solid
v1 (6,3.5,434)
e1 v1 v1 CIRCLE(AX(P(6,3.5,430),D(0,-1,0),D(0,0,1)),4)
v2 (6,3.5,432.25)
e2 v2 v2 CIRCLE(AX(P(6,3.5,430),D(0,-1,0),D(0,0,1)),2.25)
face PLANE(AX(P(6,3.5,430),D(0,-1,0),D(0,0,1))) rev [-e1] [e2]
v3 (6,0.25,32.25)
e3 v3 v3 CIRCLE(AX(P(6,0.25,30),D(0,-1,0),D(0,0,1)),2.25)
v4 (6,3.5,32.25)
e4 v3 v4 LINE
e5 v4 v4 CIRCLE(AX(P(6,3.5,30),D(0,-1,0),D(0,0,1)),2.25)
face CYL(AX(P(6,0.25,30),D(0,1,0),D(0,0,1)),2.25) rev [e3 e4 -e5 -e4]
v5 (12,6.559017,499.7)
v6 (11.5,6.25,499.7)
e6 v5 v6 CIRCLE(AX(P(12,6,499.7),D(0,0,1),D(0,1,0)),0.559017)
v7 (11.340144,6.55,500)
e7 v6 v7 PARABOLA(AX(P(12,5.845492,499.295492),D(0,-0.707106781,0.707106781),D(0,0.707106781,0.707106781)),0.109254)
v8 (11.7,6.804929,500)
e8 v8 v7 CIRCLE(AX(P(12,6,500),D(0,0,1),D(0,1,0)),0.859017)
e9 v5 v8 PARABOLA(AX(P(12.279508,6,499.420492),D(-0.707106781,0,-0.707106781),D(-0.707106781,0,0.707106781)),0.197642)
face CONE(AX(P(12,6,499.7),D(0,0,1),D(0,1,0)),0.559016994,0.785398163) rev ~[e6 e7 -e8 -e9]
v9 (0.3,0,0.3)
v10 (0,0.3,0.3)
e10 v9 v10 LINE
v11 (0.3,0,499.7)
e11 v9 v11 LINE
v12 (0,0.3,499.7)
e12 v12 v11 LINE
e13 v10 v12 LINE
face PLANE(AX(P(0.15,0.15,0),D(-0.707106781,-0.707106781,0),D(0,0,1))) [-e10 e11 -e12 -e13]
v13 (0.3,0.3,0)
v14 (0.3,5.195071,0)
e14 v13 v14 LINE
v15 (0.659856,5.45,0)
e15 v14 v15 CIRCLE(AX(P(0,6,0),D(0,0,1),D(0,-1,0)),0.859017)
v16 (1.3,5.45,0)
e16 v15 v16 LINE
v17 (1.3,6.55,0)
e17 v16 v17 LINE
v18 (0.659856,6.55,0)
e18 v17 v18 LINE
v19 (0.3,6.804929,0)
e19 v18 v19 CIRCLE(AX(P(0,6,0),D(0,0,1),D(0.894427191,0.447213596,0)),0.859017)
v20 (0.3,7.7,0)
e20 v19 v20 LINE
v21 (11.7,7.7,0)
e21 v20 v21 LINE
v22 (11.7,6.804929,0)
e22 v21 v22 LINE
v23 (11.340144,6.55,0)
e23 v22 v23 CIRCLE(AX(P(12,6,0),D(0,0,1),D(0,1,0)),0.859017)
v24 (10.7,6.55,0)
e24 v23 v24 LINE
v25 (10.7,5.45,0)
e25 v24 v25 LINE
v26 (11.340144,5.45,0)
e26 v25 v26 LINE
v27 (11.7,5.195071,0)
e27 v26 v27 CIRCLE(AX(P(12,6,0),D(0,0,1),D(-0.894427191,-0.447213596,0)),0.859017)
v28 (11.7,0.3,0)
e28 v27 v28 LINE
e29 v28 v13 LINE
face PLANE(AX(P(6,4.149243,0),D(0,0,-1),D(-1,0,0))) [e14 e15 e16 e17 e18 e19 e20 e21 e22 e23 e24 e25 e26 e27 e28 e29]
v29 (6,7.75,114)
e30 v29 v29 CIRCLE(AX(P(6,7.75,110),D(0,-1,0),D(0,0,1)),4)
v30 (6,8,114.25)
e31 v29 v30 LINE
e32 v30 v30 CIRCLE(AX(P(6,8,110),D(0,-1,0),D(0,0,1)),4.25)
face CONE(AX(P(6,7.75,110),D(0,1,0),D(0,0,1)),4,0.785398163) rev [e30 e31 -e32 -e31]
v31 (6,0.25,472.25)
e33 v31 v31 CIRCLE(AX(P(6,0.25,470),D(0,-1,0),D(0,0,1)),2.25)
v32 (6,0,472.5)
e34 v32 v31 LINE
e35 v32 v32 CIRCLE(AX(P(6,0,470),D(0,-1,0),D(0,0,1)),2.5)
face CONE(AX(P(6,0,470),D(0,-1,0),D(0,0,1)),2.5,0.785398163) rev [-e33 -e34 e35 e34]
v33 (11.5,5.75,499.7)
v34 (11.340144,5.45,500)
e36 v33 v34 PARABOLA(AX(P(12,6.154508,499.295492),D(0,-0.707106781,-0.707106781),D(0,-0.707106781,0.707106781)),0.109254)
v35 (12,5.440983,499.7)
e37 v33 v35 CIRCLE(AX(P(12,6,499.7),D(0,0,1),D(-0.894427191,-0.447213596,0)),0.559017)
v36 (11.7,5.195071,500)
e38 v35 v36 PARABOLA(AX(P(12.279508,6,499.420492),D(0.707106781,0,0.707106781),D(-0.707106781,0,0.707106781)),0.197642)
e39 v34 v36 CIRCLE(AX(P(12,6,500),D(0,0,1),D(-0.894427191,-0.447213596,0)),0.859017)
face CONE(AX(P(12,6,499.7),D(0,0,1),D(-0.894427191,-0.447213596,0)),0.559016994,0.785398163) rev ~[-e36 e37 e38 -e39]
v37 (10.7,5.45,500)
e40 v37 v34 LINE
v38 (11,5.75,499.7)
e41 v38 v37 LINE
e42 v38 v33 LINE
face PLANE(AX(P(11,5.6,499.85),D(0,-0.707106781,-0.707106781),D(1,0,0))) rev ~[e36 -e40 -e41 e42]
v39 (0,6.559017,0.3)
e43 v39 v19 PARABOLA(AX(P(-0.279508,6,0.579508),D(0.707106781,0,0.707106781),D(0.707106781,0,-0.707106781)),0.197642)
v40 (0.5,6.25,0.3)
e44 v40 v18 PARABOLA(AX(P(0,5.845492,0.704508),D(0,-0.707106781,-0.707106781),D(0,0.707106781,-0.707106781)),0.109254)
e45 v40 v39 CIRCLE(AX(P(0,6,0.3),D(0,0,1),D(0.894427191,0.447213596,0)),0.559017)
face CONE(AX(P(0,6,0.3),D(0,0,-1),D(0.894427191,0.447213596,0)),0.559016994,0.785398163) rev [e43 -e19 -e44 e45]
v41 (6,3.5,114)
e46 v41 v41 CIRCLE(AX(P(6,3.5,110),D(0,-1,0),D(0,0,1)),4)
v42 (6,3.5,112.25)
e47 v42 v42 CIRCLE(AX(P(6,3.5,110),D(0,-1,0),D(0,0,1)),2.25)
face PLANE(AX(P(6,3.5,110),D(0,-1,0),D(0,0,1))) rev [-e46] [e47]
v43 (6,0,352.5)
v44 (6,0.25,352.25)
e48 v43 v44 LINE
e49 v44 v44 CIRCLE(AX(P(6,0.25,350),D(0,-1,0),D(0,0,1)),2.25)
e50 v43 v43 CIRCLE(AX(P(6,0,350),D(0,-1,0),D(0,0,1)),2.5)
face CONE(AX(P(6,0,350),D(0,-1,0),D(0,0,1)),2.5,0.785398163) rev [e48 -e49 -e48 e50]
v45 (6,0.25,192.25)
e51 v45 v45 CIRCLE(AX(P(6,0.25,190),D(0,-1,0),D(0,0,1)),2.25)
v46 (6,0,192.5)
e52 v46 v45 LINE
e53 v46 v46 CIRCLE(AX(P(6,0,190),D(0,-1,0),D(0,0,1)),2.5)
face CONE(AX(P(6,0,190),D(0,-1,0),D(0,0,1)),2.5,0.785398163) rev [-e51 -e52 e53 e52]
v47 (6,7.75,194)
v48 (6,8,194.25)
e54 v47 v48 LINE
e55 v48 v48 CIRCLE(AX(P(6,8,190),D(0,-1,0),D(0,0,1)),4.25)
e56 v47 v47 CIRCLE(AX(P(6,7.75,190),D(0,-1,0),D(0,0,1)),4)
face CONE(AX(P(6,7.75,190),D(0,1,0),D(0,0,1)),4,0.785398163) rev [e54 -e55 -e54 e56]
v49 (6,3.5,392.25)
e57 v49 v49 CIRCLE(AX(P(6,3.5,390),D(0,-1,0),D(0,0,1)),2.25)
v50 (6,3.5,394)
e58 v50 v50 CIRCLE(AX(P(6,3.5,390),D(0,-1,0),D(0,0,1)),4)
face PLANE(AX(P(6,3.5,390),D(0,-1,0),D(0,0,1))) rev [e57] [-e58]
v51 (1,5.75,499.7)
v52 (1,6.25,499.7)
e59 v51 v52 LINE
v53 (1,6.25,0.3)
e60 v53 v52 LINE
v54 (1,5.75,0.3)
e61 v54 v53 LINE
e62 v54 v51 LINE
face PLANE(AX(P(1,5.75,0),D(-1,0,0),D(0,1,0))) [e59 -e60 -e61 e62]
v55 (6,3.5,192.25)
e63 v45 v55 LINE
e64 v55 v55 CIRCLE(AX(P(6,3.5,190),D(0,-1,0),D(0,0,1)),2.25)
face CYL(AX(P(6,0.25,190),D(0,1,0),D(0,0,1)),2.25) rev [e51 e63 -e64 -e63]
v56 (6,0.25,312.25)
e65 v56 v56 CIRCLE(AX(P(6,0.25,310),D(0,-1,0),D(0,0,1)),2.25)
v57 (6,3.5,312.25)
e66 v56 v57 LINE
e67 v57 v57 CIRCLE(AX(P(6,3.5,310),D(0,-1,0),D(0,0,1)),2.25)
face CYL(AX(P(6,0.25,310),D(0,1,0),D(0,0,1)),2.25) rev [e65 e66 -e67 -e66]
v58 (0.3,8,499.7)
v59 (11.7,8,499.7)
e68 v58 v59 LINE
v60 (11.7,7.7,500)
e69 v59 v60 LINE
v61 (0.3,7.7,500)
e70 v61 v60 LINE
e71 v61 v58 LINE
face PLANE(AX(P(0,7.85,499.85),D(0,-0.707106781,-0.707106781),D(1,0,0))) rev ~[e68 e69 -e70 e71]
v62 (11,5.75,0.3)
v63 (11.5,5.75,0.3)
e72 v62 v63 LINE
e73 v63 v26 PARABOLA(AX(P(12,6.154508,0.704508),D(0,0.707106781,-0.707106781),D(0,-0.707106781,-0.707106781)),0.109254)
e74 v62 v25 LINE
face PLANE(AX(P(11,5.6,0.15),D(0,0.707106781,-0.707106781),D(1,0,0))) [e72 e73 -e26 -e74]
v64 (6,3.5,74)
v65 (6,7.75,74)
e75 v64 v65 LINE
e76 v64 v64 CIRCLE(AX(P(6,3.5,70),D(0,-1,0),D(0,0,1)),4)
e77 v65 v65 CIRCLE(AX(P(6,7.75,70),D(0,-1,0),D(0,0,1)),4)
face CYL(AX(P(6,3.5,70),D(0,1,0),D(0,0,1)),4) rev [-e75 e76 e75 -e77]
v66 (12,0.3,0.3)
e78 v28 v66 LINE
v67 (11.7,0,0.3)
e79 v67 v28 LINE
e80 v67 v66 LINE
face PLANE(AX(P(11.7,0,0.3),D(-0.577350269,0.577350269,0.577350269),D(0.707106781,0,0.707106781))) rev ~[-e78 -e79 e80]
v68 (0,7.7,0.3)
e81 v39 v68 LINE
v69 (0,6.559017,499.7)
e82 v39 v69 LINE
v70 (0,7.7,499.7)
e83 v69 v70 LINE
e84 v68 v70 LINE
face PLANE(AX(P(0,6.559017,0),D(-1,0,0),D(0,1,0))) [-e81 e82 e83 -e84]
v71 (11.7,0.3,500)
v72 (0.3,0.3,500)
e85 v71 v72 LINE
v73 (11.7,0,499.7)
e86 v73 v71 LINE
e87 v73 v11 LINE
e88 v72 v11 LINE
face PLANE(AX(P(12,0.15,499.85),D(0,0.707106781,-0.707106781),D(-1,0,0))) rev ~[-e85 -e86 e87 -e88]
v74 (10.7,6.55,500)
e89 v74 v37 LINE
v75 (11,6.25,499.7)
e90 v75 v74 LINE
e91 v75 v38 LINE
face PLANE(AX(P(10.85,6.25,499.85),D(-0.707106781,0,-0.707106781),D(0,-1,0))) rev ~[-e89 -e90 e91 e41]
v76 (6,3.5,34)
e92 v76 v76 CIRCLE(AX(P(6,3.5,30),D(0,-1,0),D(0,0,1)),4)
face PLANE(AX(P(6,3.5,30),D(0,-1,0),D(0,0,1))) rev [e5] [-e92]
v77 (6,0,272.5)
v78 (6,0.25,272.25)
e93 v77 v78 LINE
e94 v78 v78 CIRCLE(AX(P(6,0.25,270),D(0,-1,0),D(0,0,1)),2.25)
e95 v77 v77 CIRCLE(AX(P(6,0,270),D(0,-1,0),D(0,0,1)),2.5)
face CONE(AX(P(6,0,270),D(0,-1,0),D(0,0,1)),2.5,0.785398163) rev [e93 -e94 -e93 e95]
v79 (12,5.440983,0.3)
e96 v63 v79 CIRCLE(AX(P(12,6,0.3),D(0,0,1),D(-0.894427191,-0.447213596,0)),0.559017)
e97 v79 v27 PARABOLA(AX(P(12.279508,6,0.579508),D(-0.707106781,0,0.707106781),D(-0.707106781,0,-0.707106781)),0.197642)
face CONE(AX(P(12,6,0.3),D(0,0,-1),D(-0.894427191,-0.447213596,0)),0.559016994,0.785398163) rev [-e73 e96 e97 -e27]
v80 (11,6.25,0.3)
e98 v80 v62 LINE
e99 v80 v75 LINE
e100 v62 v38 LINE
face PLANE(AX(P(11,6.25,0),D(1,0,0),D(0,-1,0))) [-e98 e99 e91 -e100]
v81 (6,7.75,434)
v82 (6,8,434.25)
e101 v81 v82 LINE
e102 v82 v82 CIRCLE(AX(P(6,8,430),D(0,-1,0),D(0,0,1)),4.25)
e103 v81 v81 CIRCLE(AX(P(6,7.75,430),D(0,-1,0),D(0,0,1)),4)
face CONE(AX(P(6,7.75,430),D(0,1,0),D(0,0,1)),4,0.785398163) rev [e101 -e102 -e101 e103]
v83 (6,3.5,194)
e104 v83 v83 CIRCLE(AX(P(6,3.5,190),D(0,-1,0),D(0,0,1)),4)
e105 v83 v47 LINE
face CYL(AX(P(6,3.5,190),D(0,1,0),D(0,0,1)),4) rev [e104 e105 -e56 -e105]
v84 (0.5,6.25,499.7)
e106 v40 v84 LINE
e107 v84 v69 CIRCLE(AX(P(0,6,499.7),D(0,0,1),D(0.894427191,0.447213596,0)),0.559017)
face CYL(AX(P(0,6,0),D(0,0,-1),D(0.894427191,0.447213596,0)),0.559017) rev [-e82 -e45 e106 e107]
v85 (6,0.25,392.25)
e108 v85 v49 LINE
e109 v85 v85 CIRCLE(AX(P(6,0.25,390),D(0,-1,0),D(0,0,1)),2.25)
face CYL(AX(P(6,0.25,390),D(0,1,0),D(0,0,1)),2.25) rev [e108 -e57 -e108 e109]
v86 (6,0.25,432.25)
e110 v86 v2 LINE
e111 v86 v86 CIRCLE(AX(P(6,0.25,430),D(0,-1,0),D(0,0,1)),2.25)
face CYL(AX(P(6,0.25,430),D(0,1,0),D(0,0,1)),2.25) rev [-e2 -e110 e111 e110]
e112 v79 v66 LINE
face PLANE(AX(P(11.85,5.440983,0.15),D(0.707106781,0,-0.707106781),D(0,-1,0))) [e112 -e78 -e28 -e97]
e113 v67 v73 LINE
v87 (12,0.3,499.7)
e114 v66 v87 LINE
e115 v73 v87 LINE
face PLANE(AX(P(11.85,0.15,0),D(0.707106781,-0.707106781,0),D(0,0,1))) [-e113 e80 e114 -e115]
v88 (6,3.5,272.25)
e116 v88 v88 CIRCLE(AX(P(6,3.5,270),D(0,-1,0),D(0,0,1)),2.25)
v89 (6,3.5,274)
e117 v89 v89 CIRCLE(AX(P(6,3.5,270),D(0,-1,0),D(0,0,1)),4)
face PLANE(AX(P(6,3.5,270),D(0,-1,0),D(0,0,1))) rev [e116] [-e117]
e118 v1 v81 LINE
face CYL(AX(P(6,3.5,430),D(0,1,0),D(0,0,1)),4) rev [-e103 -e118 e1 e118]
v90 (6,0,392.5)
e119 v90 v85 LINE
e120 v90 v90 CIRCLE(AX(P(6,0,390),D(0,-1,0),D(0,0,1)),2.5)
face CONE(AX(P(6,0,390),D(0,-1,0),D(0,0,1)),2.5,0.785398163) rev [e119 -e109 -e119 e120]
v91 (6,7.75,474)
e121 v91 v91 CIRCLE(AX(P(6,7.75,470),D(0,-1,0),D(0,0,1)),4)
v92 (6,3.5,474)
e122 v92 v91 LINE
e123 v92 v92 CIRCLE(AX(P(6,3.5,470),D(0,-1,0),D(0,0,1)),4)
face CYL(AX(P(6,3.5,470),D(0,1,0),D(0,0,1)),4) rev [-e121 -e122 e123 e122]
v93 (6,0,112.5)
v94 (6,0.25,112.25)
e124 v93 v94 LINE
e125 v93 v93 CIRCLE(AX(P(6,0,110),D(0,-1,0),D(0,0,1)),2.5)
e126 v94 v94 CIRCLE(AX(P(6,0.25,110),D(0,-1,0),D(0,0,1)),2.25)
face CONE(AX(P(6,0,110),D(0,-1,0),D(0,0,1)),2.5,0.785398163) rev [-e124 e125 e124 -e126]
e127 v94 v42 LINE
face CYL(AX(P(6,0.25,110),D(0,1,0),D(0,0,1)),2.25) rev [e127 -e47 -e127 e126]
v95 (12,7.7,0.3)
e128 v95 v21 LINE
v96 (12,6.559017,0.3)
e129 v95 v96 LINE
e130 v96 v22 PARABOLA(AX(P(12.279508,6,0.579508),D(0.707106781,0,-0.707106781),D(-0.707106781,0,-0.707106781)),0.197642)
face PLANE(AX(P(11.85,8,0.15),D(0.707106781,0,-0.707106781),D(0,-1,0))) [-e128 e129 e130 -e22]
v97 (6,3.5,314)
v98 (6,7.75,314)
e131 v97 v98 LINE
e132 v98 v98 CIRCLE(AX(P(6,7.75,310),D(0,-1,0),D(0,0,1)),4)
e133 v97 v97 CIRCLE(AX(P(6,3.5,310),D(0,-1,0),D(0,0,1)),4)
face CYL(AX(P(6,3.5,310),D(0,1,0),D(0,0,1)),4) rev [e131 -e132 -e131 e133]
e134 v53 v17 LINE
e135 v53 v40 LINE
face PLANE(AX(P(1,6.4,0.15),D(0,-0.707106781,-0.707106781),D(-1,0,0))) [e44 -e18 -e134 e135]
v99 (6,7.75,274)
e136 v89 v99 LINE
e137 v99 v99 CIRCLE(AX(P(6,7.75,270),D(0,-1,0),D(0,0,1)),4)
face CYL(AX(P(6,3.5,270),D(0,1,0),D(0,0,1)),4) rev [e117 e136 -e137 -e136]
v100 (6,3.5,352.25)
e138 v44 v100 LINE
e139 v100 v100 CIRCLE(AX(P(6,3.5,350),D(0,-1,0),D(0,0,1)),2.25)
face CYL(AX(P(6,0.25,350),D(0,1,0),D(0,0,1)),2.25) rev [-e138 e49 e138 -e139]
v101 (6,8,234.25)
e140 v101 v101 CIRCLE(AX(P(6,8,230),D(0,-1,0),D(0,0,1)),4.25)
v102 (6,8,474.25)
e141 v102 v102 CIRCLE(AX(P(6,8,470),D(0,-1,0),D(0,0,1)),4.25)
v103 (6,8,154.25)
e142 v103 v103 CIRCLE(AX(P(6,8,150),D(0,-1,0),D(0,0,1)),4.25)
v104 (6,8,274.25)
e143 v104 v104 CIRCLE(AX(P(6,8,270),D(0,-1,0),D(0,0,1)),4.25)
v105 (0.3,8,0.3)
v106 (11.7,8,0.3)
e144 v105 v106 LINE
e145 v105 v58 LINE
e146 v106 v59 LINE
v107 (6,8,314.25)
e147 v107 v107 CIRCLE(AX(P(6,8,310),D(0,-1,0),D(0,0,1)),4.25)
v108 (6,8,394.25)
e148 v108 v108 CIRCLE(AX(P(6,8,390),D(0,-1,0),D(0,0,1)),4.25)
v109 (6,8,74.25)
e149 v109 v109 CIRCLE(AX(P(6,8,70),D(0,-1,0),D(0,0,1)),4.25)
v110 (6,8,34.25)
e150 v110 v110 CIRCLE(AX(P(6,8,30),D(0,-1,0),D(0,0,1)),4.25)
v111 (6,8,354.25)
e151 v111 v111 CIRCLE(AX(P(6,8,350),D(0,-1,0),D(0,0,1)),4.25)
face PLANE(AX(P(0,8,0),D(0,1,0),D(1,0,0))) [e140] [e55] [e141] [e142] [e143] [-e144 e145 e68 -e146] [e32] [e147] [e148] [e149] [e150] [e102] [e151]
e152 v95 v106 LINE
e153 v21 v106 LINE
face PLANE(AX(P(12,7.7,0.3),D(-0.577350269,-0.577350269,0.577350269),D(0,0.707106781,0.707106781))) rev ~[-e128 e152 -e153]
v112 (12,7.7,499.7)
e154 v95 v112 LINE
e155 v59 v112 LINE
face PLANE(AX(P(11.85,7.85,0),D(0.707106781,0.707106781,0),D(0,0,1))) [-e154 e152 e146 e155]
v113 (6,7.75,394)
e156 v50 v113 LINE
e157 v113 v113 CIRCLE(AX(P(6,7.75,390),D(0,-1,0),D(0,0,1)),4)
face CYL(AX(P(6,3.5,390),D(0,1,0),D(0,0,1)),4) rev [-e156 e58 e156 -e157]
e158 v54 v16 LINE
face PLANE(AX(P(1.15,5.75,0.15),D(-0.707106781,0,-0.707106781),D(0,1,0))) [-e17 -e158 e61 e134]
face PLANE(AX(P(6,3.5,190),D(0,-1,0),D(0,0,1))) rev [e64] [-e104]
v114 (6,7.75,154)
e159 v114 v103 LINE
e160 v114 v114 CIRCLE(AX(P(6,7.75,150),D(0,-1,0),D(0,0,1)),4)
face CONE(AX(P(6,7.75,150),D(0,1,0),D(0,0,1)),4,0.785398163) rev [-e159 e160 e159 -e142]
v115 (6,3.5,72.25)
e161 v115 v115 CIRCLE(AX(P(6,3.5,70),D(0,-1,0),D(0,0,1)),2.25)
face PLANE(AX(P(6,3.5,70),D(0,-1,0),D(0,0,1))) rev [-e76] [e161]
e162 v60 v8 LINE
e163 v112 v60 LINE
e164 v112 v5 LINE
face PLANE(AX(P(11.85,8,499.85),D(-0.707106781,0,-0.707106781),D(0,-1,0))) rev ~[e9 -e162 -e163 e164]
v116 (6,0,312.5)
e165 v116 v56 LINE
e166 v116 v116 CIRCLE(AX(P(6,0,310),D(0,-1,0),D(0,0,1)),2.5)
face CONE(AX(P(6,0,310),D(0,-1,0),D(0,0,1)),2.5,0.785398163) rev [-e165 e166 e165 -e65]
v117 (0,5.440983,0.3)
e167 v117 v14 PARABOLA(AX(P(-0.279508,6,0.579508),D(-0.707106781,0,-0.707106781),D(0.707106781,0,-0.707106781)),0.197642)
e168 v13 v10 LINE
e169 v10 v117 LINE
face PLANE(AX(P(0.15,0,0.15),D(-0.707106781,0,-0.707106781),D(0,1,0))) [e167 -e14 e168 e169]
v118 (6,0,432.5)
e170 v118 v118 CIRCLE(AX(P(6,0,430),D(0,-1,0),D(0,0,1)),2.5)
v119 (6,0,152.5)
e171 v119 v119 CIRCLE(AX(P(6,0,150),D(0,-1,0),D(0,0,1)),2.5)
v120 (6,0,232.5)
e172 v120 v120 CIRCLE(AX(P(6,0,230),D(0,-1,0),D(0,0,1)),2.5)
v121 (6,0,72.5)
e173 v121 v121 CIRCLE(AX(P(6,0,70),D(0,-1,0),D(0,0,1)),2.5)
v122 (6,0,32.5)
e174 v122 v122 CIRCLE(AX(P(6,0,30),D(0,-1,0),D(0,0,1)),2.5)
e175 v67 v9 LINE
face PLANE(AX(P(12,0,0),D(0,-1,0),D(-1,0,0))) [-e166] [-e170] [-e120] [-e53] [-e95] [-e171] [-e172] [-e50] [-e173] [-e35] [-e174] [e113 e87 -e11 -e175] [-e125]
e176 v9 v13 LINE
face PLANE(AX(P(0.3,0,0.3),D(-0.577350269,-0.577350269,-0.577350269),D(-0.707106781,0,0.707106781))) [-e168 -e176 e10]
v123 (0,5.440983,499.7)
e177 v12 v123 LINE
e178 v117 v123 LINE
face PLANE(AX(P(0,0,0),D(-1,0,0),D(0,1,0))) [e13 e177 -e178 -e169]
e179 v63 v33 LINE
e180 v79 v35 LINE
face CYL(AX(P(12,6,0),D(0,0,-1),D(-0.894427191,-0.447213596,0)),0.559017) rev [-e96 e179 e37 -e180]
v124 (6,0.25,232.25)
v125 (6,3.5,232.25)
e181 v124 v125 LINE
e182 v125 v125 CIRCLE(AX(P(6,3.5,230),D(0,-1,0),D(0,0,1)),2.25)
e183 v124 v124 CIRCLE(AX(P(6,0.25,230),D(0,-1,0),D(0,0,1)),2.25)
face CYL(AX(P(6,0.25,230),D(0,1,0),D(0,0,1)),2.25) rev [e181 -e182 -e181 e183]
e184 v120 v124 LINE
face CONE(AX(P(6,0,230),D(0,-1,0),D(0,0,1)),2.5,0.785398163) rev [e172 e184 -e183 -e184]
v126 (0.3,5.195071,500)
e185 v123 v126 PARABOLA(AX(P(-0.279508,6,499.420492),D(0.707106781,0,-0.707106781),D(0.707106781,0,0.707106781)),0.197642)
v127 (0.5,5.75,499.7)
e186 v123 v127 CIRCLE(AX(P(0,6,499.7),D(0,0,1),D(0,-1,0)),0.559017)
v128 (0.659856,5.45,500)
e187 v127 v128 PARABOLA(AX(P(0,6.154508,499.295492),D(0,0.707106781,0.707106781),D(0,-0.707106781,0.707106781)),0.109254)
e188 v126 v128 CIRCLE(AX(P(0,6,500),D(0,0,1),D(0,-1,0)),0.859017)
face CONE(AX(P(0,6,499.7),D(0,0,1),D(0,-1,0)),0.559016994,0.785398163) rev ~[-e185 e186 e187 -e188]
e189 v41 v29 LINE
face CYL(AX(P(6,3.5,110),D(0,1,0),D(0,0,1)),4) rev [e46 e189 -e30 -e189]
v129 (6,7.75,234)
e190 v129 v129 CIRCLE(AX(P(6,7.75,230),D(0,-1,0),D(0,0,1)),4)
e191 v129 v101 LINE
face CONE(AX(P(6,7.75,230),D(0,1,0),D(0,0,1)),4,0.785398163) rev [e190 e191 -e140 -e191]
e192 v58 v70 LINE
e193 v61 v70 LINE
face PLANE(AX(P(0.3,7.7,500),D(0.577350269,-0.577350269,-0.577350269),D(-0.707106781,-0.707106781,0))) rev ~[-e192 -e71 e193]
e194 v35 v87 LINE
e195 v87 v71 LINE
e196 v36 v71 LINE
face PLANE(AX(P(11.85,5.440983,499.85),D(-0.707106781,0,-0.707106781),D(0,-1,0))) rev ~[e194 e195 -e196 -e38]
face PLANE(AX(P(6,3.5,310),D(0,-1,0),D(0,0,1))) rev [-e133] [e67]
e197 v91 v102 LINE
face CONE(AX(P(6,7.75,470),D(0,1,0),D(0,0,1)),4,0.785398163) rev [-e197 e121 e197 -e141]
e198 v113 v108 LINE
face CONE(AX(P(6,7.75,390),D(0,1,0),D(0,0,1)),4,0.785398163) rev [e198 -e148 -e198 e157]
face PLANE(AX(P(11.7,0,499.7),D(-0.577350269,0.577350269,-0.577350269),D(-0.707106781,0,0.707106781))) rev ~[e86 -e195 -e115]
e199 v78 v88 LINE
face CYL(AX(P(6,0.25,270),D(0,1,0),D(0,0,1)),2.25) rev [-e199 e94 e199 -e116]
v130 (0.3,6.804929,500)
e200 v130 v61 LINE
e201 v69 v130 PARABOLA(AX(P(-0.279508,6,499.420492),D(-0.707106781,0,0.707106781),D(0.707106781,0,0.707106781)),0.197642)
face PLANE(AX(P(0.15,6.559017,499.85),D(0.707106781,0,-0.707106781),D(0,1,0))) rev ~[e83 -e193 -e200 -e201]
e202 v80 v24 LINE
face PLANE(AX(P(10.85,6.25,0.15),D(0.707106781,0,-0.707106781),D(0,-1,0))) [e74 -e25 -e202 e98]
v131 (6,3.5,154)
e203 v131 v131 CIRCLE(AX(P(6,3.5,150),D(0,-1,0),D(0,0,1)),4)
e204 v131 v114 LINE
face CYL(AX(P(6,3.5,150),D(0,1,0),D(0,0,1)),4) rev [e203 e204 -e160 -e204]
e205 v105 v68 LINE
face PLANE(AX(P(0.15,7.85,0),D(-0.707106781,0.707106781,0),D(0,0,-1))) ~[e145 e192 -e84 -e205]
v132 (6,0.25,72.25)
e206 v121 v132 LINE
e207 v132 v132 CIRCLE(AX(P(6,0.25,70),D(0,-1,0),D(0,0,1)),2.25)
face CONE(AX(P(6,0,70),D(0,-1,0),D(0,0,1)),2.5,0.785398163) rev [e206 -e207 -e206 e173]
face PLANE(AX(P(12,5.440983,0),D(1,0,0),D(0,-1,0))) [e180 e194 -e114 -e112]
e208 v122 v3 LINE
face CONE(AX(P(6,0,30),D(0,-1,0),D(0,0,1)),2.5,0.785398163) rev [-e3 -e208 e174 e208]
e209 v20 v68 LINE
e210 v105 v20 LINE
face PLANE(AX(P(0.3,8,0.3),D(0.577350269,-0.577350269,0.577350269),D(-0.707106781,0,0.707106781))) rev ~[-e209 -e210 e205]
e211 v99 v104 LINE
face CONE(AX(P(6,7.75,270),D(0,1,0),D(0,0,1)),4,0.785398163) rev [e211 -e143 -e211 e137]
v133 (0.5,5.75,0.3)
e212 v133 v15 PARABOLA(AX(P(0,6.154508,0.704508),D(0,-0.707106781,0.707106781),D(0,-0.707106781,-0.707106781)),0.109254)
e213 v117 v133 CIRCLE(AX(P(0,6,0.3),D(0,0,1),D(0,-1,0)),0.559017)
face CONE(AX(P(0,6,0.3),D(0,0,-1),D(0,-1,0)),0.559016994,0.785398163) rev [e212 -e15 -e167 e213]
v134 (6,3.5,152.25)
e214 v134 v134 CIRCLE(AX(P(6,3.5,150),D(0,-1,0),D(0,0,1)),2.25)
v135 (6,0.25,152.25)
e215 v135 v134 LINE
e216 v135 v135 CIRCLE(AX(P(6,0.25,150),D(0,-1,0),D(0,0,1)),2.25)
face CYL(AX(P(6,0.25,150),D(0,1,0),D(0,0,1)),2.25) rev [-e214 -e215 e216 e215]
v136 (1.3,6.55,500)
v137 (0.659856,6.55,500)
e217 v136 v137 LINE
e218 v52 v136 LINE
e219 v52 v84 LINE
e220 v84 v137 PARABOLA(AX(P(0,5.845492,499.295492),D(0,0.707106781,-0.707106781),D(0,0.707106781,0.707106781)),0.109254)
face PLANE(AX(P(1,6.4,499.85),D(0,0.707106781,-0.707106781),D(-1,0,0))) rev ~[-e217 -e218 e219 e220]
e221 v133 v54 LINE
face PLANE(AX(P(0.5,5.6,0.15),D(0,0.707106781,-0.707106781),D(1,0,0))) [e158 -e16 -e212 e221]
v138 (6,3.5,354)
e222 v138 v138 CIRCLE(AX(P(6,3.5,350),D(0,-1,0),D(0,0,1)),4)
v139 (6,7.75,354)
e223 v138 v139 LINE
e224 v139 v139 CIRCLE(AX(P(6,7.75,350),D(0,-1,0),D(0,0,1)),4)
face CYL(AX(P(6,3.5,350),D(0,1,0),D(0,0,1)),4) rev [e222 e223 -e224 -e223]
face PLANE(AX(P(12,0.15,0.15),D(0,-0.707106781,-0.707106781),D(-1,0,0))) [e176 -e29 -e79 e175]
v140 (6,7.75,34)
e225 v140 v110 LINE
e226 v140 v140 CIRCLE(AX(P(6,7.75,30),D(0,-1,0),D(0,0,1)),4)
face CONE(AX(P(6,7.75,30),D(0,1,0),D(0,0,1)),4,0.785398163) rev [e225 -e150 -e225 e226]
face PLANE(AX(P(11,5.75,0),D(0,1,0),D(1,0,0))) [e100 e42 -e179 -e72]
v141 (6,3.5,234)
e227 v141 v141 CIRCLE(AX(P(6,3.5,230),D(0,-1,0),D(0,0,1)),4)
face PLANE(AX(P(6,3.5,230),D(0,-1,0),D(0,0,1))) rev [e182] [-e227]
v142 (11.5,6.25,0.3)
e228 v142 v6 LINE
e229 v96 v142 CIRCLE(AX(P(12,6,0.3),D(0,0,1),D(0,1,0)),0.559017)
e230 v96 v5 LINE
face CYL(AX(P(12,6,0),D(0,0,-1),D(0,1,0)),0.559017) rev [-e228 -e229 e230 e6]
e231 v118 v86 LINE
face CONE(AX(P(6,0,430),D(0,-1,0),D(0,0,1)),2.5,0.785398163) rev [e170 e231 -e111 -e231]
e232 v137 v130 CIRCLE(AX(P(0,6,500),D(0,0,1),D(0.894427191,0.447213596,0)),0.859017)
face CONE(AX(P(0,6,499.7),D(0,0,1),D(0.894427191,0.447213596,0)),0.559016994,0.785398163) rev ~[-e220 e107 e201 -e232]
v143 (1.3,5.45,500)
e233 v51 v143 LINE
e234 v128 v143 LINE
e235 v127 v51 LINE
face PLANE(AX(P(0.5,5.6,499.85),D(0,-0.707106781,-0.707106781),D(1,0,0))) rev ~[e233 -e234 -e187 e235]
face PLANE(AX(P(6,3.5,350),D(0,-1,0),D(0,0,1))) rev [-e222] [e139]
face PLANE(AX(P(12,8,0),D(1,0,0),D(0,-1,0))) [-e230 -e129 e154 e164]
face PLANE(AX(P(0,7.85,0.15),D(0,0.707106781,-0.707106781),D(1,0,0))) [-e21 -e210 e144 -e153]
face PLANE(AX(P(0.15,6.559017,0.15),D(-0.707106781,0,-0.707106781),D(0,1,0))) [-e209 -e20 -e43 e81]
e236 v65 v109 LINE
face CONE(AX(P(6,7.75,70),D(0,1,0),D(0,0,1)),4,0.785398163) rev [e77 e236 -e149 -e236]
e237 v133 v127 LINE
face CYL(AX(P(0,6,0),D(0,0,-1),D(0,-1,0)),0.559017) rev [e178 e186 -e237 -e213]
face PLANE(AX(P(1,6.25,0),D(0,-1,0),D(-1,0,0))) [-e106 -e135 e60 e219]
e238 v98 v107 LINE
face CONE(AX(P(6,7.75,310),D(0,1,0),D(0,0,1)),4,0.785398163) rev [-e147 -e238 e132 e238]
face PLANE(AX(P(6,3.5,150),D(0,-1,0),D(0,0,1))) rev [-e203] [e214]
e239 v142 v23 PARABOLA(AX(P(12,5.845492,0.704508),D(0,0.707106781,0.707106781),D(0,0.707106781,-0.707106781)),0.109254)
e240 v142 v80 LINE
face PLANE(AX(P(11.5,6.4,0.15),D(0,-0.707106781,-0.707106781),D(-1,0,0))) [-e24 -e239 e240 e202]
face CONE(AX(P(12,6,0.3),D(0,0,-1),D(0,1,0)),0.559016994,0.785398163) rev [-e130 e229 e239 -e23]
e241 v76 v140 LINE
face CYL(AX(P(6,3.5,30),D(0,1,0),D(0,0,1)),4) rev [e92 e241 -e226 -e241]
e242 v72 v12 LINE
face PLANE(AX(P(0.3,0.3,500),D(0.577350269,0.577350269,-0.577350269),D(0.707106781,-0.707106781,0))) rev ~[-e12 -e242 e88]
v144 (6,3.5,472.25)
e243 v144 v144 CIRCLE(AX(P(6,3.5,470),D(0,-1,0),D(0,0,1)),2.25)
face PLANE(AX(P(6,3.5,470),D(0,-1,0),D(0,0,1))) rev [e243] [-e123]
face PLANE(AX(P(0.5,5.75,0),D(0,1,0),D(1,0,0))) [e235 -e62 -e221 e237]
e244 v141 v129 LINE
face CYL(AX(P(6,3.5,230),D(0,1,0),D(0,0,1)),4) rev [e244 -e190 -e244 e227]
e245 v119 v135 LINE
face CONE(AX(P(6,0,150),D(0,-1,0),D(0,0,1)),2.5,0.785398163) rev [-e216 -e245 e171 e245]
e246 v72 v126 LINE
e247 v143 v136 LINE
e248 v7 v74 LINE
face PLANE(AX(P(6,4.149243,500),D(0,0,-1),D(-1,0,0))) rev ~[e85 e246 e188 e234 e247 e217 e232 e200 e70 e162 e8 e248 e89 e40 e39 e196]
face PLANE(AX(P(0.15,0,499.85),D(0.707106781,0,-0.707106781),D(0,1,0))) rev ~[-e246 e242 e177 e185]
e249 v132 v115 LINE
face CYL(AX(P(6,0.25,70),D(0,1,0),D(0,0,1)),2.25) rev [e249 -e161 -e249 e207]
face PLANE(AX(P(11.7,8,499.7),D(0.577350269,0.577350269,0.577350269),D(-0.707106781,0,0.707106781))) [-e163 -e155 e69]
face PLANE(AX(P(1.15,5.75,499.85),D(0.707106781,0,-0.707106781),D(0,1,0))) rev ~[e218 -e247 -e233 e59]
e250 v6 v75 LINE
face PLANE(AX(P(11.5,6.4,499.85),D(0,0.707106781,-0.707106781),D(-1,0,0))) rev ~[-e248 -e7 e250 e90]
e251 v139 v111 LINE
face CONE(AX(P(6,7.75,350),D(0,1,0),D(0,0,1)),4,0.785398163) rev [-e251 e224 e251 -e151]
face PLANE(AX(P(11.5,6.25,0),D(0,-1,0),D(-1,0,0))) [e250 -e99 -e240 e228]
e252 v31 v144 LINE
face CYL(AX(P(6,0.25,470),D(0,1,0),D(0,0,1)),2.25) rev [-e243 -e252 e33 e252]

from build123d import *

# Parameters (mm, degrees)
BOSS_EXTRUDE1_DEPTH = 500
CHAMFER1_SIZE       = 0.3
LPATTERN1_COUNT     = 12
LPATTERN1_PITCH     = 40


with BuildPart() as part:
    # Sketch1 → Boss-Extrude1 (new body)
    with BuildSketch(Plane.XY):
        with BuildLine():
            Line((0, 8), (12, 8))
            Line((12, 8), (12, 6.75))
            Line((12, 6.75), (12, 6.559016994))
            ThreePointArc((12, 6.559016994), (11.706107374, 6.475528258), (11.5, 6.25))
            Line((11.5, 6.25), (11, 6.25))
            Line((11, 6.25), (11, 5.75))
            Line((11, 5.75), (11.5, 5.75))
            ThreePointArc((11.5, 5.75), (11.706107374, 5.524471742), (12, 5.440983006))
            Line((12, 5.440983006), (12, 5.25))
            Line((12, 5.25), (12, 0))
            Line((12, 0), (0, 0))
            Line((0, 0), (0, 5.25))
            Line((0, 5.25), (0, 5.440983006))
            ThreePointArc((0, 5.440983006), (0.293892626, 5.524471742), (0.5, 5.75))
            Line((0.5, 5.75), (1, 5.75))
            Line((1, 5.75), (1, 6.25))
            Line((1, 6.25), (0.5, 6.25))
            ThreePointArc((0.5, 6.25), (0.293892626, 6.475528258), (0, 6.559016994))
            Line((0, 6.559016994), (0, 6.75))
            Line((0, 6.75), (0, 8))
        make_face()
    extrude(amount=BOSS_EXTRUDE1_DEPTH)

    # Chamfer1
    chamfer1_edges = [part.edges().sort_by_distance(p)[0] for p in [
        (12, 2.720491503, 500),
        (11.706107374, 5.524471742, 500),
        (0, 2.720491503, 0),
        (0.293892626, 5.524471742, 0),
        (0.75, 5.75, 0),
        (1, 6, 0),
        (0.75, 6.25, 0),
        (11.25, 5.75, 500),
        (0.293892626, 6.475528258, 0),
        (0, 7.279508497, 0),
        (6, 8, 0),
        (12, 7.279508497, 0),
        (11.706107374, 6.475528258, 0),
        (11, 6, 500),
        (11.25, 6.25, 0),
        (11, 6, 0),
        (11.25, 5.75, 0),
        (11.706107374, 5.524471742, 0),
        (12, 2.720491503, 0),
        (6, 0, 0),
        (11.25, 6.25, 500),
        (11.706107374, 6.475528258, 500),
        (12, 7.279508497, 500),
        (0, 8, 250),
        (12, 8, 250),
        (12, 0, 250),
        (0, 0, 250),
        (6, 8, 500),
        (0, 2.720491503, 500),
        (0, 7.279508497, 500),
        (0.293892626, 6.475528258, 500),
        (0.75, 6.25, 500),
        (1, 6, 500),
        (0.75, 5.75, 500),
        (0.293892626, 5.524471742, 500),
        (6, 0, 500),
    ]]
    chamfer(chamfer1_edges, length=CHAMFER1_SIZE)

    # Sketch3 → CBORE for M5 Hex Head Bolt1 (revolve, cut)
    with BuildSketch(Plane(origin=(6, 8, 30), x_dir=(0, 0, 1), z_dir=(1, 0, 0))):
        Polygon((0, 0), (0, 8), (2.5, 8), (2.25, 7.75), (2.25, 4.5), (4, 4.5), (4, 0.25), (4.25, 0), align=None)
    cbore_for_m5_hex_head_bolt1 = revolve(axis=Axis((6, 14.35, 30), (0, -1, 0)), mode=Mode.SUBTRACT)

    # LPattern1: CBORE for M5 Hex Head Bolt1 ×12
    with Locations(*[(0, 0, i * LPATTERN1_PITCH) for i in range(1, LPATTERN1_COUNT)]):
        add(cbore_for_m5_hex_head_bolt1, mode=Mode.SUBTRACT)


solid = part.part
